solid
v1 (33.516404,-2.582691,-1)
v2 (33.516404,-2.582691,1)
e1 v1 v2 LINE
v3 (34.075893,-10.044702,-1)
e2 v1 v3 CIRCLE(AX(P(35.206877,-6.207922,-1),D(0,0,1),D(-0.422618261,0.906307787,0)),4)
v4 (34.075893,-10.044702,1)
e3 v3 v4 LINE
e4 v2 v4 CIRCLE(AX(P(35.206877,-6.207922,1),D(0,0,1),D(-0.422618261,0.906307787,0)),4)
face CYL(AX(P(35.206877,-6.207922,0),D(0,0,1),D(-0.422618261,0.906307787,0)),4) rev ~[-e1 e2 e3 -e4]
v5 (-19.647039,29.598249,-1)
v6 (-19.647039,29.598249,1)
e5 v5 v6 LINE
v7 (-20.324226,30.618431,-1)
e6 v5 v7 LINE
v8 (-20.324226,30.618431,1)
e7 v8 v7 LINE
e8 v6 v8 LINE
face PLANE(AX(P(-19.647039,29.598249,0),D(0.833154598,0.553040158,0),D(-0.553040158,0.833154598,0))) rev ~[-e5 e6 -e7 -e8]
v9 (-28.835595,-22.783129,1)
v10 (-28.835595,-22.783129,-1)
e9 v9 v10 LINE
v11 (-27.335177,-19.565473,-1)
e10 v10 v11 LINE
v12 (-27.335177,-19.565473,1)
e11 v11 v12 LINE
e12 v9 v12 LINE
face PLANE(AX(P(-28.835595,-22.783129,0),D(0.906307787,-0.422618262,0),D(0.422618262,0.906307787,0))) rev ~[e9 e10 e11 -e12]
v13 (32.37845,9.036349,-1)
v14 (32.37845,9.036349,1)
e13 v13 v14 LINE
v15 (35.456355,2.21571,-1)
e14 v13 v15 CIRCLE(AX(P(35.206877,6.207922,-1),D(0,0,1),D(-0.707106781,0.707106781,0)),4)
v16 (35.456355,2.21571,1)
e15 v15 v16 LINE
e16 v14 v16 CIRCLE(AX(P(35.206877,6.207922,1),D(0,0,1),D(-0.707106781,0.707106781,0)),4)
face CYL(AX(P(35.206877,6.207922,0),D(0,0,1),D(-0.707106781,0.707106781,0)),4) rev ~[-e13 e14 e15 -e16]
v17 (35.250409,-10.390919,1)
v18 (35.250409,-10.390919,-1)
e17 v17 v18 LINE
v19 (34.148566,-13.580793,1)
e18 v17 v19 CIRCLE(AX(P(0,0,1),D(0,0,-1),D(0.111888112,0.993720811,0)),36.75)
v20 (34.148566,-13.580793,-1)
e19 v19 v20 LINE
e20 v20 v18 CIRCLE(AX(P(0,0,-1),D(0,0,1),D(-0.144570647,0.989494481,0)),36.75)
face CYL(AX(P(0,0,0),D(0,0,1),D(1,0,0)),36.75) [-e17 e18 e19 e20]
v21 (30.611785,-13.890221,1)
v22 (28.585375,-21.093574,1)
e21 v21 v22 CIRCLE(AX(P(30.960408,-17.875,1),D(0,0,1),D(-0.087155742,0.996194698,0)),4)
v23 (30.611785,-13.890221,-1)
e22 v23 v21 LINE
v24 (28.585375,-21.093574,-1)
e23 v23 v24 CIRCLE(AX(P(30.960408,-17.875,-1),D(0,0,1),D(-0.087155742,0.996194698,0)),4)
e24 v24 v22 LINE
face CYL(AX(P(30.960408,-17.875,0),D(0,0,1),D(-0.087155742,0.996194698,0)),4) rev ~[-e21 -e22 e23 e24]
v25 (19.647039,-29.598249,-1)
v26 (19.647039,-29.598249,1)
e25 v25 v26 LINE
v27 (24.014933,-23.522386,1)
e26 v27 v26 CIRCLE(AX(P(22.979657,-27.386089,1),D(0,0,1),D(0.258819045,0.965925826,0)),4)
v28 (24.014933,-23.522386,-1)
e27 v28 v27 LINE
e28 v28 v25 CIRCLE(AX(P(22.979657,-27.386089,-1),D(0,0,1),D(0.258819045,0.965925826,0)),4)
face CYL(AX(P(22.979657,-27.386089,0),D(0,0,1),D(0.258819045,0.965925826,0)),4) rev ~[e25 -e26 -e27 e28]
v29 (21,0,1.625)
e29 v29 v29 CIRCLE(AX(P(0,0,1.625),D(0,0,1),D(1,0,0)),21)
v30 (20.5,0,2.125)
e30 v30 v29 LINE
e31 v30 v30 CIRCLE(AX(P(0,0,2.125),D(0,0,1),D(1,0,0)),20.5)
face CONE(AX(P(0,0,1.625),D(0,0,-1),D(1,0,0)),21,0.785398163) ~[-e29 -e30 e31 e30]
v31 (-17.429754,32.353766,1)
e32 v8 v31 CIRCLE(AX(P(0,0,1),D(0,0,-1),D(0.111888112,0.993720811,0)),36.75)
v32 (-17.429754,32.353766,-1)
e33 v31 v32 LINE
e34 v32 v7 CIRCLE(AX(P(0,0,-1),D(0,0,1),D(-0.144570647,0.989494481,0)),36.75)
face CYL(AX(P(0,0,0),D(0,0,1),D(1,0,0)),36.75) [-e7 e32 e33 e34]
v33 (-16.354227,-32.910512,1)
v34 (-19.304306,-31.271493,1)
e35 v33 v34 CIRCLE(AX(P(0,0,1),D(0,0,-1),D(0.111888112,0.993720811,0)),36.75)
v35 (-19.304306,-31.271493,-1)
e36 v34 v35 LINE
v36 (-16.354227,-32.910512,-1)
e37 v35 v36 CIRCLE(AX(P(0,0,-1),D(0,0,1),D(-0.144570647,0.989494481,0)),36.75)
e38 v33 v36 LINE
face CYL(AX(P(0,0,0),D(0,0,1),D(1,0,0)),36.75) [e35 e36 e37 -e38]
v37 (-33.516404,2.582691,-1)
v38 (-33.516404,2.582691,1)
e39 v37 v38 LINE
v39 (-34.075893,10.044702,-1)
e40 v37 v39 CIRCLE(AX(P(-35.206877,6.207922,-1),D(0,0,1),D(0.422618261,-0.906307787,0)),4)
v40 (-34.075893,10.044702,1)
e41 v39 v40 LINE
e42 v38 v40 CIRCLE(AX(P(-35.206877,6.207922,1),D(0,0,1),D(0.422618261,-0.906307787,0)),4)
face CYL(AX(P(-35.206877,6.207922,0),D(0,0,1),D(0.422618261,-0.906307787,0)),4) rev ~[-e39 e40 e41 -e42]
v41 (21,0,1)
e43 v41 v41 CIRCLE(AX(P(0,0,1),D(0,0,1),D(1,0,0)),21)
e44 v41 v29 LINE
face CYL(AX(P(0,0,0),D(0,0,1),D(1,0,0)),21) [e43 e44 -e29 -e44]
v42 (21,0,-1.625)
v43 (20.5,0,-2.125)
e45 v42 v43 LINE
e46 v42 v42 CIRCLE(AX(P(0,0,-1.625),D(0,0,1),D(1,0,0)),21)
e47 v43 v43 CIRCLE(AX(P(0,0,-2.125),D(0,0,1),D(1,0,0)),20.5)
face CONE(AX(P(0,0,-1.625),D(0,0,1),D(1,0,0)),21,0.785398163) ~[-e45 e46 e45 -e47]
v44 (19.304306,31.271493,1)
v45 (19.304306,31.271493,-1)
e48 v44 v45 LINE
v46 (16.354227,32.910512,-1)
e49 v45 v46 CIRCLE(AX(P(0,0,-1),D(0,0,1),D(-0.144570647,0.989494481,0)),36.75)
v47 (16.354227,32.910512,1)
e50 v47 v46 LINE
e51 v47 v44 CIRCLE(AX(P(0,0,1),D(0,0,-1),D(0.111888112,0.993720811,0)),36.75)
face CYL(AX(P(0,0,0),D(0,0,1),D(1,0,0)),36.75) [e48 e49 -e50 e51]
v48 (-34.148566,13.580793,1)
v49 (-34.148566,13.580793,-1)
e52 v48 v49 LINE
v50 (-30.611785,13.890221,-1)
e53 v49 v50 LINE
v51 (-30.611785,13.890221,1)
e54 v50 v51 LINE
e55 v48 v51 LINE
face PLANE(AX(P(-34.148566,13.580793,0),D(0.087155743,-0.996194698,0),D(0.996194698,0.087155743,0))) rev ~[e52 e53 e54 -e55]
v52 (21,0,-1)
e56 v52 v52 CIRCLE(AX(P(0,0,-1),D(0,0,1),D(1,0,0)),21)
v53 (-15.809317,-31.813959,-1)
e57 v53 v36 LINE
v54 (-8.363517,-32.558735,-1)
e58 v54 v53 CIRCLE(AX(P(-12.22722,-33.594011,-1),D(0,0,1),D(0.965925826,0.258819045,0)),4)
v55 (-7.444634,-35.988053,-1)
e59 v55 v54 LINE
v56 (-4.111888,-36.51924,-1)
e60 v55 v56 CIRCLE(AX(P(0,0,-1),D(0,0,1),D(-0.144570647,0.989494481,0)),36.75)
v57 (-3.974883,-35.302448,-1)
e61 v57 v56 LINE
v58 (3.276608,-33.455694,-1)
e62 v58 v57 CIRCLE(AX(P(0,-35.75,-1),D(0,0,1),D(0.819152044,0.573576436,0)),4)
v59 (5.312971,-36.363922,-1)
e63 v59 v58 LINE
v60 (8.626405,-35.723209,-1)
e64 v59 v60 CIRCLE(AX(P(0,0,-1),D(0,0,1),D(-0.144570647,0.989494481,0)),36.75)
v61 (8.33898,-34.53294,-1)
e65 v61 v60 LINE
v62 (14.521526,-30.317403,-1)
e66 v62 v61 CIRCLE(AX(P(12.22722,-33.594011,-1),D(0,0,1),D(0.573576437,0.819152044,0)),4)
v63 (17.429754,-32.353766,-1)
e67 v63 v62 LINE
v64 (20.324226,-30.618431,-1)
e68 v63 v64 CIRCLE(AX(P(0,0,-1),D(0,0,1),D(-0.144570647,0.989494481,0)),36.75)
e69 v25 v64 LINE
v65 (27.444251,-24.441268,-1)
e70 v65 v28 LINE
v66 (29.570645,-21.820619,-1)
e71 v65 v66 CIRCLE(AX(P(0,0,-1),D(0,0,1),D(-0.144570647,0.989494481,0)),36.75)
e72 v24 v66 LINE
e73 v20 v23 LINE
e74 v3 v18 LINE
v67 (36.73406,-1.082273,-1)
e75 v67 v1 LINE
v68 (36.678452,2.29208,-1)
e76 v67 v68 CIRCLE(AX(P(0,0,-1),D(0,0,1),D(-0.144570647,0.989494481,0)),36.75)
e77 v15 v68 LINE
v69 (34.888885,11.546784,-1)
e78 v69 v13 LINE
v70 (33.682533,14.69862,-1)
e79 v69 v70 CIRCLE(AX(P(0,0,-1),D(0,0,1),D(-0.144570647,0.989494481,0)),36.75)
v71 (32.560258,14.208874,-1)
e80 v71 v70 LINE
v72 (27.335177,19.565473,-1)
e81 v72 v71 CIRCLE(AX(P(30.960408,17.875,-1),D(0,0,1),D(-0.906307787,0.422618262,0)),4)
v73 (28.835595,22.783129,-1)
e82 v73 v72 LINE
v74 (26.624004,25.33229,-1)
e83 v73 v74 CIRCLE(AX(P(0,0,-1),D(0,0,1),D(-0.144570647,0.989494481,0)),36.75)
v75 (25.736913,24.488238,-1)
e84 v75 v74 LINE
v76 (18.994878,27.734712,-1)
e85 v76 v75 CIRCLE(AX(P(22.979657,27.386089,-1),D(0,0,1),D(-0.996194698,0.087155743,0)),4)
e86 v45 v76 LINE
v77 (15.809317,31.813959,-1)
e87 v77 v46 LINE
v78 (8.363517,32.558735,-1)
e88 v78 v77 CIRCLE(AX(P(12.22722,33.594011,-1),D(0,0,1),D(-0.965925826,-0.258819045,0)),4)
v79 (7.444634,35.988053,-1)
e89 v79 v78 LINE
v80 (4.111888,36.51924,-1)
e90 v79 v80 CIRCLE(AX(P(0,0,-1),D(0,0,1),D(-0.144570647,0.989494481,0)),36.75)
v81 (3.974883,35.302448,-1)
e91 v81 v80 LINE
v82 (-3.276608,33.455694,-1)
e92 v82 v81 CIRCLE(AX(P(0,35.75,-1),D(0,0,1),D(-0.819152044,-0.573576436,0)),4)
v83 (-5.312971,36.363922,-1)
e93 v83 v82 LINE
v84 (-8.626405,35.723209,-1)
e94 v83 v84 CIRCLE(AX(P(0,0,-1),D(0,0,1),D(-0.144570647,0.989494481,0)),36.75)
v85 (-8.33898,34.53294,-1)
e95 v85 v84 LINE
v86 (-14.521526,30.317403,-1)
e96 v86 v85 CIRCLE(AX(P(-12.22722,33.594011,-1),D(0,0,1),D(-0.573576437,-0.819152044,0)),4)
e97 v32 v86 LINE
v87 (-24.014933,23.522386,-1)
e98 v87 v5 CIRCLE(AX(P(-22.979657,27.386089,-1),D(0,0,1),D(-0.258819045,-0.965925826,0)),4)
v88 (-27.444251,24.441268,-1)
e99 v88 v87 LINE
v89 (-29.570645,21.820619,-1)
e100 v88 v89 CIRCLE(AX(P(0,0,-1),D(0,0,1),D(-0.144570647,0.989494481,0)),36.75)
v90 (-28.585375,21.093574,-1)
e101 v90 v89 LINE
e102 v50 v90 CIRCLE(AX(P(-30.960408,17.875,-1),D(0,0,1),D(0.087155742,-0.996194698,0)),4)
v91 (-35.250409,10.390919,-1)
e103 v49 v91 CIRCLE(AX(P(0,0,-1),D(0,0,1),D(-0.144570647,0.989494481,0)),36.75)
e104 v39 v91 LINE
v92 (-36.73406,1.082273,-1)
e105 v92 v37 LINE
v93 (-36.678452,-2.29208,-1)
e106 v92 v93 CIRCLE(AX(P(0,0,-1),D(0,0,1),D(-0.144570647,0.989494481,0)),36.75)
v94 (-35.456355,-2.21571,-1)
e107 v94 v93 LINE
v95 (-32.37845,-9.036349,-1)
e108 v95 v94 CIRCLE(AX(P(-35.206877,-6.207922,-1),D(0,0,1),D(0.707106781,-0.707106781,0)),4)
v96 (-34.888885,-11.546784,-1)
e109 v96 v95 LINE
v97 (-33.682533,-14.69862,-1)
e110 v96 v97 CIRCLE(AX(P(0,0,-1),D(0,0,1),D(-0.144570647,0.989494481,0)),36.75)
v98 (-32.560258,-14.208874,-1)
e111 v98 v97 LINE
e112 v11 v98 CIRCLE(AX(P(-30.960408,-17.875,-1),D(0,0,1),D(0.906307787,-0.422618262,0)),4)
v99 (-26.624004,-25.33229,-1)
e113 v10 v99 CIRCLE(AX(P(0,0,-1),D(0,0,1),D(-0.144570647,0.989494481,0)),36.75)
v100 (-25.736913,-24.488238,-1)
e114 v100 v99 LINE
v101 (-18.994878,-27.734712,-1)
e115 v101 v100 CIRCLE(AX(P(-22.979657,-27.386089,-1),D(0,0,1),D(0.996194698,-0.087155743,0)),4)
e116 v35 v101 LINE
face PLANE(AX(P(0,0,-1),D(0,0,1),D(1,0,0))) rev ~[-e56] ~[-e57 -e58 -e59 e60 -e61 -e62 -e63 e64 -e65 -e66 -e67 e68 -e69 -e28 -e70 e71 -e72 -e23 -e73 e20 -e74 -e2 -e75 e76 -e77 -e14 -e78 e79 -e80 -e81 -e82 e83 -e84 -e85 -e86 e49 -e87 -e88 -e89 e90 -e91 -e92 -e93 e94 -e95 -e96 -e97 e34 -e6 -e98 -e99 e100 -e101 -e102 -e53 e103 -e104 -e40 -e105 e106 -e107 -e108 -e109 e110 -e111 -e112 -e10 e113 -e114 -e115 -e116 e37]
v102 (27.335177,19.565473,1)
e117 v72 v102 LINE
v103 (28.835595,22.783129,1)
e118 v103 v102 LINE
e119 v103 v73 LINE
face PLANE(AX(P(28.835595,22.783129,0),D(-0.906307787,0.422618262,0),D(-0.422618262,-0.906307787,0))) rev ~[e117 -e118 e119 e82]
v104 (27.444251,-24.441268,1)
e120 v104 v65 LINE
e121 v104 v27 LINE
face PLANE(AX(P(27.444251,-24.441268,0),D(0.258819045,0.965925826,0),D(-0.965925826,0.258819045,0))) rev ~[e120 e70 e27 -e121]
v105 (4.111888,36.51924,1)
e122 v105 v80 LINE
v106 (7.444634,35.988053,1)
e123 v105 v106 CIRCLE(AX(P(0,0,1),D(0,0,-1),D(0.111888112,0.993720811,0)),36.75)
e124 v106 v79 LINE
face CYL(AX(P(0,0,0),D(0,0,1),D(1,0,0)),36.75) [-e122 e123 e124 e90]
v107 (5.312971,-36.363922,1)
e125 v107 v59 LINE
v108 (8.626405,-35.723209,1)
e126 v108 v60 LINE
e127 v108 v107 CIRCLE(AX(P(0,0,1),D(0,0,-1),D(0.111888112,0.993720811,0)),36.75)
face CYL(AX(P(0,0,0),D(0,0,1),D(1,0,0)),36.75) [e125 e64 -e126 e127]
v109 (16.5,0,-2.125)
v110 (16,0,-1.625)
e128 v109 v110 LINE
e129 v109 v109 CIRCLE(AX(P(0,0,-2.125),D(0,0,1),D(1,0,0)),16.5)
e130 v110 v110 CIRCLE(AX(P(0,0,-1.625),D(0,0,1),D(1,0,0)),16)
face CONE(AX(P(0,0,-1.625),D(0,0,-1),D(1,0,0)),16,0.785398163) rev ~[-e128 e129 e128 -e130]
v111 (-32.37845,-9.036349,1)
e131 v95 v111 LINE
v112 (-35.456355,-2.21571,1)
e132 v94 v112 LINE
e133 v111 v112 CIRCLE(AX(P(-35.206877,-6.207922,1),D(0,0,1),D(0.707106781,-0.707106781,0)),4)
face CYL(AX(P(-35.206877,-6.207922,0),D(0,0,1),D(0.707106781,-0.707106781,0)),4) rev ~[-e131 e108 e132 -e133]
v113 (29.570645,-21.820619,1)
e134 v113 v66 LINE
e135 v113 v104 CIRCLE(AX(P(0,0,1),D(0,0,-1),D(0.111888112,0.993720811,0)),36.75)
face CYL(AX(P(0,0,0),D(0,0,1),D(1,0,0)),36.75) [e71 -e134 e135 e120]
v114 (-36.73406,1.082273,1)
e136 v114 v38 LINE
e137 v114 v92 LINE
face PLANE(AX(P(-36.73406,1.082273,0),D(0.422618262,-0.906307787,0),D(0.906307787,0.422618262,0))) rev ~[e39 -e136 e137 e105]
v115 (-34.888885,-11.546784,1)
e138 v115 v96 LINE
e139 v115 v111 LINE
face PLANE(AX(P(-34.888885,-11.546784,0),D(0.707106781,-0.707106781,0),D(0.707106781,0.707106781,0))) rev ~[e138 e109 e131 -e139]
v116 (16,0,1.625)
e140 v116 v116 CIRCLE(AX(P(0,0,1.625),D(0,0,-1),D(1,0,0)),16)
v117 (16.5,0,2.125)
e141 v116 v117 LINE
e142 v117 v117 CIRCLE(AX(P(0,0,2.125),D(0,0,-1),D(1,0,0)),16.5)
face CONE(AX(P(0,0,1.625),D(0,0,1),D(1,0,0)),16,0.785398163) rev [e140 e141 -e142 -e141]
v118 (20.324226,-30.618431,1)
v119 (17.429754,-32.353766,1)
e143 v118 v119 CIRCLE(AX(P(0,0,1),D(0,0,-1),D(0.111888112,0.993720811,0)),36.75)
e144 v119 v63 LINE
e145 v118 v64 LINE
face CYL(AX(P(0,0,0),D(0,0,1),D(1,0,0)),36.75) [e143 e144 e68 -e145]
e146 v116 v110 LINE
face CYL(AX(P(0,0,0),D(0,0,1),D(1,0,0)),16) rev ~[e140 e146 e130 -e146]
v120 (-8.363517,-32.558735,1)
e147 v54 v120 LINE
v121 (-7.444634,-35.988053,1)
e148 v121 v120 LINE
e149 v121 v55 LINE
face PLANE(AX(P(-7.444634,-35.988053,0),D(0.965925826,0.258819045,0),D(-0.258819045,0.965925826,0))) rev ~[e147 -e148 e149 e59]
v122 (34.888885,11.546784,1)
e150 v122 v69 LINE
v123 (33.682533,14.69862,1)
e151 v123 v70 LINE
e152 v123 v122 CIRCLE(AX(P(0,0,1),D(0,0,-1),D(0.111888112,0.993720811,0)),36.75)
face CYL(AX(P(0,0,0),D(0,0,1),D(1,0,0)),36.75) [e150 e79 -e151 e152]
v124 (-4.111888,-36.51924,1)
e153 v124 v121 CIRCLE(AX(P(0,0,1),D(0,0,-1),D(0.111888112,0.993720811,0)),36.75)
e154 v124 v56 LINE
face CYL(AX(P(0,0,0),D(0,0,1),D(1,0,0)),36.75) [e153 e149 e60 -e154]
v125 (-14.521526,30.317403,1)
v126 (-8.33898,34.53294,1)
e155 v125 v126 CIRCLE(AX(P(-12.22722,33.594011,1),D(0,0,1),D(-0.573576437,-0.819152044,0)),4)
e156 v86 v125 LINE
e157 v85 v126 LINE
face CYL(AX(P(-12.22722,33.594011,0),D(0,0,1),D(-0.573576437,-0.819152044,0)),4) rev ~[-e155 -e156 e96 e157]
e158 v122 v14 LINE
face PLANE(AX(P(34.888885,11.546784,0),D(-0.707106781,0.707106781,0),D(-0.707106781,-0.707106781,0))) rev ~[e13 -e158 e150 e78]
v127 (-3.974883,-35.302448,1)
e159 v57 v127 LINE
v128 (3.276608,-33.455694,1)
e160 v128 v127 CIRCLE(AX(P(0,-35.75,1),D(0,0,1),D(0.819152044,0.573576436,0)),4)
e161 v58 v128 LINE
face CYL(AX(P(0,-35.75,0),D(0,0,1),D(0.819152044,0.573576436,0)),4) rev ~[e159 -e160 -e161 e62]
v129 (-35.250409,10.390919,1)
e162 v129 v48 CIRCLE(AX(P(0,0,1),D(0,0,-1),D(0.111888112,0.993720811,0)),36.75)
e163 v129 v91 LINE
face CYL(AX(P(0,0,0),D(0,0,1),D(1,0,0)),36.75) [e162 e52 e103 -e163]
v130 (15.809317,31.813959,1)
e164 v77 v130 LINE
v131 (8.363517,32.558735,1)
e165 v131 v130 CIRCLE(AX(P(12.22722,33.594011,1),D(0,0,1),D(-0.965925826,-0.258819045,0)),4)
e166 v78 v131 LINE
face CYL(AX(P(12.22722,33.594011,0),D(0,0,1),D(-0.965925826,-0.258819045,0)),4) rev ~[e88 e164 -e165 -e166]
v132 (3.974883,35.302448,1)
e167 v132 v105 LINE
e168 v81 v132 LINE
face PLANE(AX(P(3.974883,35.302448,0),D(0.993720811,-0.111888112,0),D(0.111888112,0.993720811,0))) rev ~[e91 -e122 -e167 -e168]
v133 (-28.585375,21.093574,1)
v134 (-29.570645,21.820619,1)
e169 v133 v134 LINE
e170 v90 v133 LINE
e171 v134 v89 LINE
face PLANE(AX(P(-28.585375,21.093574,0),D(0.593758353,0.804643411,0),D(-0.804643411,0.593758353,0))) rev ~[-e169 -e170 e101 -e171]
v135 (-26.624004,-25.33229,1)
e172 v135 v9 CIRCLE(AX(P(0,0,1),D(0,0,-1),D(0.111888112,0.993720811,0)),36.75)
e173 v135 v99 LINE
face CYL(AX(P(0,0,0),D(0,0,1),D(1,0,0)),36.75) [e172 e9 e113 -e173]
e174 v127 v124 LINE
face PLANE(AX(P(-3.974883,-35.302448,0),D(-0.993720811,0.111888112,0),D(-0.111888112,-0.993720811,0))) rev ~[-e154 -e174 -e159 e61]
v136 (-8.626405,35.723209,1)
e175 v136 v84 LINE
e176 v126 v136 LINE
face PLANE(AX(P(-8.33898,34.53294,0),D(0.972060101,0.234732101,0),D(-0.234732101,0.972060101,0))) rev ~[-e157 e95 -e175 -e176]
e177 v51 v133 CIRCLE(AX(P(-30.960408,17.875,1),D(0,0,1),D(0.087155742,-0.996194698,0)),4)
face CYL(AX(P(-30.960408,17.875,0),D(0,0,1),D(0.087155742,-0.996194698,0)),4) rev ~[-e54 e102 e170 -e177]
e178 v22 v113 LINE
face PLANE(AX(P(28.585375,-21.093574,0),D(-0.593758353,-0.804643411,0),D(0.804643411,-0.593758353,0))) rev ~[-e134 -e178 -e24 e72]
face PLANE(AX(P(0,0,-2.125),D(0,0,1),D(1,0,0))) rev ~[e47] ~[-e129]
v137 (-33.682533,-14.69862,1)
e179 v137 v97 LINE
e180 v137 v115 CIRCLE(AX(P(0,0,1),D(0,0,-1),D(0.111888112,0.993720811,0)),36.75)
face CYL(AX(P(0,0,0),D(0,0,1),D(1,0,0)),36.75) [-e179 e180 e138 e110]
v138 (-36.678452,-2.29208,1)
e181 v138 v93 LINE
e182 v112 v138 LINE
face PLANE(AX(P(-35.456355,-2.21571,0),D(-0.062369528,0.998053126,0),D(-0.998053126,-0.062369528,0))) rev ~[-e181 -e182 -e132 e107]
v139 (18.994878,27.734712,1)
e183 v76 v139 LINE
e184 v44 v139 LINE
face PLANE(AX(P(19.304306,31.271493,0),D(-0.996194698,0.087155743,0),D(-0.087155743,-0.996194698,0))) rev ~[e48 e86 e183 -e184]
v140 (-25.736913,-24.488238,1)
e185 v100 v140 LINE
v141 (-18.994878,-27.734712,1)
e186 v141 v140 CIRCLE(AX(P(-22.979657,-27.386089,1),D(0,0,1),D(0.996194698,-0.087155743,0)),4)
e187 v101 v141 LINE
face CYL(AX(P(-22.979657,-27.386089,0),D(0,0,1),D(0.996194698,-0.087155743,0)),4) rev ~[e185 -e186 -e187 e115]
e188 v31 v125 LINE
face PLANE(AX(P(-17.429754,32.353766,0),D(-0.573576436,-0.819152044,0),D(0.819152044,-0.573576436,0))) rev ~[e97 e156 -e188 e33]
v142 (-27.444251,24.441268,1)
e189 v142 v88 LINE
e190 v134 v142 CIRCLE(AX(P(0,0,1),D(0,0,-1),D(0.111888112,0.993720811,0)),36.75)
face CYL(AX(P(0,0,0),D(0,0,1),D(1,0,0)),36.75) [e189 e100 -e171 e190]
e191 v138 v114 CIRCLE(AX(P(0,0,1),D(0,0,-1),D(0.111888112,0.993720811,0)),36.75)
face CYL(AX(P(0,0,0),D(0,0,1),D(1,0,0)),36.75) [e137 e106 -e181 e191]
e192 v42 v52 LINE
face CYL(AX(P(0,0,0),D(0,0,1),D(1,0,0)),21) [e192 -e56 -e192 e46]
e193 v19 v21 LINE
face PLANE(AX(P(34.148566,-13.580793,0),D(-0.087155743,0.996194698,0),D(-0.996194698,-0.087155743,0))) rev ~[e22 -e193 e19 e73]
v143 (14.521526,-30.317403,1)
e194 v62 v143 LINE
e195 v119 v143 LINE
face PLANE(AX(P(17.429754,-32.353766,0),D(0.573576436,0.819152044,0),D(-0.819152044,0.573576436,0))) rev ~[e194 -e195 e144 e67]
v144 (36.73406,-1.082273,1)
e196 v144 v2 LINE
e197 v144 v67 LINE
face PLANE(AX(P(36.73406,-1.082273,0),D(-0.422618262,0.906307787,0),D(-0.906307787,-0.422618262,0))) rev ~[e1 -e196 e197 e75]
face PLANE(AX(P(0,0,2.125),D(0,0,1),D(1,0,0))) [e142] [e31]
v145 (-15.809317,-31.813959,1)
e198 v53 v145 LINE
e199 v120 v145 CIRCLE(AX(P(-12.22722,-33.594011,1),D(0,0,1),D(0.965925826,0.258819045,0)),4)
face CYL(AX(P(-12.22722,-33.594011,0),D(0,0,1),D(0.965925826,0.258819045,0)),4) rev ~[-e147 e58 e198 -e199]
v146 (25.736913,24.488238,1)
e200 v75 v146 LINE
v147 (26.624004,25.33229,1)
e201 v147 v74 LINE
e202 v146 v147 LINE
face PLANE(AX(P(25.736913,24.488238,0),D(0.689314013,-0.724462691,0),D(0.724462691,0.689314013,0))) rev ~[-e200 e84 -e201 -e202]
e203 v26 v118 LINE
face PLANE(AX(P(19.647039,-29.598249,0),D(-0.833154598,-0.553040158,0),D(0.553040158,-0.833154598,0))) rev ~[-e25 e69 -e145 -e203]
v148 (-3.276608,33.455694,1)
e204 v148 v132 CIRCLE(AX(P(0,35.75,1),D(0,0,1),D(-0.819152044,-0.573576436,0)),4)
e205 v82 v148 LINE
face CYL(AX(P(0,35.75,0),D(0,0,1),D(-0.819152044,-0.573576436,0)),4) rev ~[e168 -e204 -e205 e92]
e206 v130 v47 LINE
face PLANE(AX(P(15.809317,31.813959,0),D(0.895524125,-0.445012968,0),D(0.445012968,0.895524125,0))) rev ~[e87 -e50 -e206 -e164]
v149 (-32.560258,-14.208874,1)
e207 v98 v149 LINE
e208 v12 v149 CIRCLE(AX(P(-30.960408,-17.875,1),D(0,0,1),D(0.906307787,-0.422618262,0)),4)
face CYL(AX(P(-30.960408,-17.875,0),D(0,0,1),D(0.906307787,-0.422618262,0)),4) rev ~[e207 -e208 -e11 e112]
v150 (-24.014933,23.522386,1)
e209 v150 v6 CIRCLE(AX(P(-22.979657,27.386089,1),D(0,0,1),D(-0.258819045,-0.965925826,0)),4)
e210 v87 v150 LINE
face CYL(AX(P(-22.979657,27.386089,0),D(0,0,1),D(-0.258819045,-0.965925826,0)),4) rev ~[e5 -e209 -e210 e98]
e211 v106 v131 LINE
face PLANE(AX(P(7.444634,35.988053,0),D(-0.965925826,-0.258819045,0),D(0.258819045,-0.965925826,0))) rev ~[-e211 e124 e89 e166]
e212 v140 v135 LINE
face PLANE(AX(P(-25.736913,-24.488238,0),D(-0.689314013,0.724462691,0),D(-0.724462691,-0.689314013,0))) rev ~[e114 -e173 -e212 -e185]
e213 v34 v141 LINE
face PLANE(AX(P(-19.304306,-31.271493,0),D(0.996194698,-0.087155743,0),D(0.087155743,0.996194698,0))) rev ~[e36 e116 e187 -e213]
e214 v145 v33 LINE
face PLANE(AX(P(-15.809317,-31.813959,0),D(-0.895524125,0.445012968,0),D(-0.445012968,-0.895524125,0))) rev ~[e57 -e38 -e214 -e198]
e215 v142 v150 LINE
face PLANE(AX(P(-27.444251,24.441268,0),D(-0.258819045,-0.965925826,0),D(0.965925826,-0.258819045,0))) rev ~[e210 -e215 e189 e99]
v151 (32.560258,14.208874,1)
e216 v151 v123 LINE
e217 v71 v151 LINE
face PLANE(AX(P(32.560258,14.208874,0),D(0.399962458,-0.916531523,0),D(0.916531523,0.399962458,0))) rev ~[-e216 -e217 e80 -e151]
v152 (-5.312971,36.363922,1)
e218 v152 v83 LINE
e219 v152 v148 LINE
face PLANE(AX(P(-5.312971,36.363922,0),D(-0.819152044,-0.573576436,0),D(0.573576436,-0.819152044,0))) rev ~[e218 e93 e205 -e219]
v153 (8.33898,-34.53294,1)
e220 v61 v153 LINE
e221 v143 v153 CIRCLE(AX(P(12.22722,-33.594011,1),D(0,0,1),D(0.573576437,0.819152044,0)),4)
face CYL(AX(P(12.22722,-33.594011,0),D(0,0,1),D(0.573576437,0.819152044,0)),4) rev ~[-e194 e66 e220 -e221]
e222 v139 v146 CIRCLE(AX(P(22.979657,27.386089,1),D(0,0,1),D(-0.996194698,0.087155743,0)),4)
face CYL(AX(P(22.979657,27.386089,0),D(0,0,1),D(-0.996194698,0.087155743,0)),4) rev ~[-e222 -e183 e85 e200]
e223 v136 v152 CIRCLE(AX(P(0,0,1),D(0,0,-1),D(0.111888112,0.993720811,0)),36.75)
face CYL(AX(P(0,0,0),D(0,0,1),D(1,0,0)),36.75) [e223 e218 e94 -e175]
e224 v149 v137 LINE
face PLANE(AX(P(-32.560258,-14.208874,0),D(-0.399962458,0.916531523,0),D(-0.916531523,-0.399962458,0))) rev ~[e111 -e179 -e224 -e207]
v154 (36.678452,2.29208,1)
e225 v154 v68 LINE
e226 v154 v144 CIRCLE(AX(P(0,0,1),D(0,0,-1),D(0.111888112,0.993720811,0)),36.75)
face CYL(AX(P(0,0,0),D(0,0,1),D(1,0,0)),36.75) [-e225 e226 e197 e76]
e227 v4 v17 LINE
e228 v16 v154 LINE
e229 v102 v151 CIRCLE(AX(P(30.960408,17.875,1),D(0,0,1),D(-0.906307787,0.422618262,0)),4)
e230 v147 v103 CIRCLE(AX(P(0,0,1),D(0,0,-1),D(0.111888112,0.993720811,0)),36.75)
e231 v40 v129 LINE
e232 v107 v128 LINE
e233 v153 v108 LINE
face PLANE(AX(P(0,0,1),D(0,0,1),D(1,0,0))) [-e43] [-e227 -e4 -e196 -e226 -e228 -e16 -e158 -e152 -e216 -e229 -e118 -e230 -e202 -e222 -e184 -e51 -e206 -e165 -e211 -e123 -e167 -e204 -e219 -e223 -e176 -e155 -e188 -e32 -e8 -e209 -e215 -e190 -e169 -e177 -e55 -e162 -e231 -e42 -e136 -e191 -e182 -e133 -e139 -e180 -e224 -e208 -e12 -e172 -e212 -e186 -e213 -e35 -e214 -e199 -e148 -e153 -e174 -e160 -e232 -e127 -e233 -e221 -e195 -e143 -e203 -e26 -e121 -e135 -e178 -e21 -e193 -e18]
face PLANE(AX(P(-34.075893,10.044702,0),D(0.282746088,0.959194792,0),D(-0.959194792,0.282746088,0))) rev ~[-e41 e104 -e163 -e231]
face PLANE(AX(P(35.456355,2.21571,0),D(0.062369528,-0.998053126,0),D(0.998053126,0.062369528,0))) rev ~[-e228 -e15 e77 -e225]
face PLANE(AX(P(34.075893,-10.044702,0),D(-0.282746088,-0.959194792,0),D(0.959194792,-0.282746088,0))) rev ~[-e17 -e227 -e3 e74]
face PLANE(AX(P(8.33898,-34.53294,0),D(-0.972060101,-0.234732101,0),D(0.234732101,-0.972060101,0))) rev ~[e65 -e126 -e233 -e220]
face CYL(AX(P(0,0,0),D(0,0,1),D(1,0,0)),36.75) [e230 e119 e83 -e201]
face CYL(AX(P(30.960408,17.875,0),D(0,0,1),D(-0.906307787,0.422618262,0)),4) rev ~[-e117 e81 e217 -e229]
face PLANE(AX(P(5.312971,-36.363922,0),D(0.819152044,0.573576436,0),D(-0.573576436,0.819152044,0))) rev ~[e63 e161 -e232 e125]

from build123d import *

# Parameters (mm, degrees)
ESQUISSE1_R                  = 36.75
EXTRUSION1_DEPTH             = 1
ENL_V_MAT_EXTRU_1_DEPTH      = 2
R_P_TITION_CIRCULAIRE1_COUNT = 18
ESQUISSE3_R                  = 21
EXTRUSION2_DEPTH             = 2.125
ESQUISSE4_R                  = 16
ENL_V_MAT_EXTRU_2_DEPTH      = 3.125
ENL_V_MAT_EXTRU_2_DEPTH_BACK = 3.125
CHANFREIN1_SIZE              = 0.5


with BuildPart() as part:
    # Esquisse1 → Extrusion1 (new body, symmetric)
    with BuildSketch(Plane.XY):
        Circle(ESQUISSE1_R)
    extrude(amount=EXTRUSION1_DEPTH, both=True)

    # Esquisse2 → Enlèv. mat.-Extru.1 (cut, symmetric)
    with BuildSketch(Plane.XY):
        with BuildLine():
            Line((-5.312971291, 36.363922177), (-3.276608177, 33.455694255))
            ThreePointArc((-3.276608177, 33.455694255), (0.987178532, 31.873728783), (3.974883244, 35.302447552))
            Line((3.974883244, 35.302447552), (4.111888112, 36.519239808))
            ThreePointArc((4.111888112, 36.519239808), (-0.605541982, 36.745010803), (-5.312971291, 36.363922177))
        make_face()
    enl_v_mat_extru_1 = extrude(amount=ENL_V_MAT_EXTRU_1_DEPTH, both=True, mode=Mode.SUBTRACT)

    # Répétition circulaire1: Enlèv. mat.-Extru.1 ×18 about axis
    r_p_tition_circulaire1_axis = Axis((0, 0, 0), (0, 0, 1))
    for i in range(1, R_P_TITION_CIRCULAIRE1_COUNT):
        add(enl_v_mat_extru_1.rotate(r_p_tition_circulaire1_axis, i * 360 / R_P_TITION_CIRCULAIRE1_COUNT), mode=Mode.SUBTRACT)

    # Esquisse3 → Extrusion2 (add, symmetric)
    with BuildSketch(Plane.XY):
        Circle(ESQUISSE3_R)
    extrude(amount=EXTRUSION2_DEPTH, both=True)

    # Esquisse4 → Enlèv. mat.-Extru.2 (cut, two sides)
    with BuildSketch(Plane.XY) as enl_v_mat_extru_2_sk:
        Circle(ESQUISSE4_R)
    extrude(amount=ENL_V_MAT_EXTRU_2_DEPTH, mode=Mode.SUBTRACT)
    extrude(enl_v_mat_extru_2_sk.sketch, amount=-ENL_V_MAT_EXTRU_2_DEPTH_BACK, mode=Mode.SUBTRACT)

    # Chanfrein1
    chanfrein1_edges = [part.edges().sort_by_distance(p)[0] for p in [
        (-21, 0, -2.125),
        (-21, 0, 2.125),
        (-16, 0, -2.125),
        (-16, 0, 2.125),
    ]]
    chamfer(chanfrein1_edges, length=CHANFREIN1_SIZE)


solid = part.part
